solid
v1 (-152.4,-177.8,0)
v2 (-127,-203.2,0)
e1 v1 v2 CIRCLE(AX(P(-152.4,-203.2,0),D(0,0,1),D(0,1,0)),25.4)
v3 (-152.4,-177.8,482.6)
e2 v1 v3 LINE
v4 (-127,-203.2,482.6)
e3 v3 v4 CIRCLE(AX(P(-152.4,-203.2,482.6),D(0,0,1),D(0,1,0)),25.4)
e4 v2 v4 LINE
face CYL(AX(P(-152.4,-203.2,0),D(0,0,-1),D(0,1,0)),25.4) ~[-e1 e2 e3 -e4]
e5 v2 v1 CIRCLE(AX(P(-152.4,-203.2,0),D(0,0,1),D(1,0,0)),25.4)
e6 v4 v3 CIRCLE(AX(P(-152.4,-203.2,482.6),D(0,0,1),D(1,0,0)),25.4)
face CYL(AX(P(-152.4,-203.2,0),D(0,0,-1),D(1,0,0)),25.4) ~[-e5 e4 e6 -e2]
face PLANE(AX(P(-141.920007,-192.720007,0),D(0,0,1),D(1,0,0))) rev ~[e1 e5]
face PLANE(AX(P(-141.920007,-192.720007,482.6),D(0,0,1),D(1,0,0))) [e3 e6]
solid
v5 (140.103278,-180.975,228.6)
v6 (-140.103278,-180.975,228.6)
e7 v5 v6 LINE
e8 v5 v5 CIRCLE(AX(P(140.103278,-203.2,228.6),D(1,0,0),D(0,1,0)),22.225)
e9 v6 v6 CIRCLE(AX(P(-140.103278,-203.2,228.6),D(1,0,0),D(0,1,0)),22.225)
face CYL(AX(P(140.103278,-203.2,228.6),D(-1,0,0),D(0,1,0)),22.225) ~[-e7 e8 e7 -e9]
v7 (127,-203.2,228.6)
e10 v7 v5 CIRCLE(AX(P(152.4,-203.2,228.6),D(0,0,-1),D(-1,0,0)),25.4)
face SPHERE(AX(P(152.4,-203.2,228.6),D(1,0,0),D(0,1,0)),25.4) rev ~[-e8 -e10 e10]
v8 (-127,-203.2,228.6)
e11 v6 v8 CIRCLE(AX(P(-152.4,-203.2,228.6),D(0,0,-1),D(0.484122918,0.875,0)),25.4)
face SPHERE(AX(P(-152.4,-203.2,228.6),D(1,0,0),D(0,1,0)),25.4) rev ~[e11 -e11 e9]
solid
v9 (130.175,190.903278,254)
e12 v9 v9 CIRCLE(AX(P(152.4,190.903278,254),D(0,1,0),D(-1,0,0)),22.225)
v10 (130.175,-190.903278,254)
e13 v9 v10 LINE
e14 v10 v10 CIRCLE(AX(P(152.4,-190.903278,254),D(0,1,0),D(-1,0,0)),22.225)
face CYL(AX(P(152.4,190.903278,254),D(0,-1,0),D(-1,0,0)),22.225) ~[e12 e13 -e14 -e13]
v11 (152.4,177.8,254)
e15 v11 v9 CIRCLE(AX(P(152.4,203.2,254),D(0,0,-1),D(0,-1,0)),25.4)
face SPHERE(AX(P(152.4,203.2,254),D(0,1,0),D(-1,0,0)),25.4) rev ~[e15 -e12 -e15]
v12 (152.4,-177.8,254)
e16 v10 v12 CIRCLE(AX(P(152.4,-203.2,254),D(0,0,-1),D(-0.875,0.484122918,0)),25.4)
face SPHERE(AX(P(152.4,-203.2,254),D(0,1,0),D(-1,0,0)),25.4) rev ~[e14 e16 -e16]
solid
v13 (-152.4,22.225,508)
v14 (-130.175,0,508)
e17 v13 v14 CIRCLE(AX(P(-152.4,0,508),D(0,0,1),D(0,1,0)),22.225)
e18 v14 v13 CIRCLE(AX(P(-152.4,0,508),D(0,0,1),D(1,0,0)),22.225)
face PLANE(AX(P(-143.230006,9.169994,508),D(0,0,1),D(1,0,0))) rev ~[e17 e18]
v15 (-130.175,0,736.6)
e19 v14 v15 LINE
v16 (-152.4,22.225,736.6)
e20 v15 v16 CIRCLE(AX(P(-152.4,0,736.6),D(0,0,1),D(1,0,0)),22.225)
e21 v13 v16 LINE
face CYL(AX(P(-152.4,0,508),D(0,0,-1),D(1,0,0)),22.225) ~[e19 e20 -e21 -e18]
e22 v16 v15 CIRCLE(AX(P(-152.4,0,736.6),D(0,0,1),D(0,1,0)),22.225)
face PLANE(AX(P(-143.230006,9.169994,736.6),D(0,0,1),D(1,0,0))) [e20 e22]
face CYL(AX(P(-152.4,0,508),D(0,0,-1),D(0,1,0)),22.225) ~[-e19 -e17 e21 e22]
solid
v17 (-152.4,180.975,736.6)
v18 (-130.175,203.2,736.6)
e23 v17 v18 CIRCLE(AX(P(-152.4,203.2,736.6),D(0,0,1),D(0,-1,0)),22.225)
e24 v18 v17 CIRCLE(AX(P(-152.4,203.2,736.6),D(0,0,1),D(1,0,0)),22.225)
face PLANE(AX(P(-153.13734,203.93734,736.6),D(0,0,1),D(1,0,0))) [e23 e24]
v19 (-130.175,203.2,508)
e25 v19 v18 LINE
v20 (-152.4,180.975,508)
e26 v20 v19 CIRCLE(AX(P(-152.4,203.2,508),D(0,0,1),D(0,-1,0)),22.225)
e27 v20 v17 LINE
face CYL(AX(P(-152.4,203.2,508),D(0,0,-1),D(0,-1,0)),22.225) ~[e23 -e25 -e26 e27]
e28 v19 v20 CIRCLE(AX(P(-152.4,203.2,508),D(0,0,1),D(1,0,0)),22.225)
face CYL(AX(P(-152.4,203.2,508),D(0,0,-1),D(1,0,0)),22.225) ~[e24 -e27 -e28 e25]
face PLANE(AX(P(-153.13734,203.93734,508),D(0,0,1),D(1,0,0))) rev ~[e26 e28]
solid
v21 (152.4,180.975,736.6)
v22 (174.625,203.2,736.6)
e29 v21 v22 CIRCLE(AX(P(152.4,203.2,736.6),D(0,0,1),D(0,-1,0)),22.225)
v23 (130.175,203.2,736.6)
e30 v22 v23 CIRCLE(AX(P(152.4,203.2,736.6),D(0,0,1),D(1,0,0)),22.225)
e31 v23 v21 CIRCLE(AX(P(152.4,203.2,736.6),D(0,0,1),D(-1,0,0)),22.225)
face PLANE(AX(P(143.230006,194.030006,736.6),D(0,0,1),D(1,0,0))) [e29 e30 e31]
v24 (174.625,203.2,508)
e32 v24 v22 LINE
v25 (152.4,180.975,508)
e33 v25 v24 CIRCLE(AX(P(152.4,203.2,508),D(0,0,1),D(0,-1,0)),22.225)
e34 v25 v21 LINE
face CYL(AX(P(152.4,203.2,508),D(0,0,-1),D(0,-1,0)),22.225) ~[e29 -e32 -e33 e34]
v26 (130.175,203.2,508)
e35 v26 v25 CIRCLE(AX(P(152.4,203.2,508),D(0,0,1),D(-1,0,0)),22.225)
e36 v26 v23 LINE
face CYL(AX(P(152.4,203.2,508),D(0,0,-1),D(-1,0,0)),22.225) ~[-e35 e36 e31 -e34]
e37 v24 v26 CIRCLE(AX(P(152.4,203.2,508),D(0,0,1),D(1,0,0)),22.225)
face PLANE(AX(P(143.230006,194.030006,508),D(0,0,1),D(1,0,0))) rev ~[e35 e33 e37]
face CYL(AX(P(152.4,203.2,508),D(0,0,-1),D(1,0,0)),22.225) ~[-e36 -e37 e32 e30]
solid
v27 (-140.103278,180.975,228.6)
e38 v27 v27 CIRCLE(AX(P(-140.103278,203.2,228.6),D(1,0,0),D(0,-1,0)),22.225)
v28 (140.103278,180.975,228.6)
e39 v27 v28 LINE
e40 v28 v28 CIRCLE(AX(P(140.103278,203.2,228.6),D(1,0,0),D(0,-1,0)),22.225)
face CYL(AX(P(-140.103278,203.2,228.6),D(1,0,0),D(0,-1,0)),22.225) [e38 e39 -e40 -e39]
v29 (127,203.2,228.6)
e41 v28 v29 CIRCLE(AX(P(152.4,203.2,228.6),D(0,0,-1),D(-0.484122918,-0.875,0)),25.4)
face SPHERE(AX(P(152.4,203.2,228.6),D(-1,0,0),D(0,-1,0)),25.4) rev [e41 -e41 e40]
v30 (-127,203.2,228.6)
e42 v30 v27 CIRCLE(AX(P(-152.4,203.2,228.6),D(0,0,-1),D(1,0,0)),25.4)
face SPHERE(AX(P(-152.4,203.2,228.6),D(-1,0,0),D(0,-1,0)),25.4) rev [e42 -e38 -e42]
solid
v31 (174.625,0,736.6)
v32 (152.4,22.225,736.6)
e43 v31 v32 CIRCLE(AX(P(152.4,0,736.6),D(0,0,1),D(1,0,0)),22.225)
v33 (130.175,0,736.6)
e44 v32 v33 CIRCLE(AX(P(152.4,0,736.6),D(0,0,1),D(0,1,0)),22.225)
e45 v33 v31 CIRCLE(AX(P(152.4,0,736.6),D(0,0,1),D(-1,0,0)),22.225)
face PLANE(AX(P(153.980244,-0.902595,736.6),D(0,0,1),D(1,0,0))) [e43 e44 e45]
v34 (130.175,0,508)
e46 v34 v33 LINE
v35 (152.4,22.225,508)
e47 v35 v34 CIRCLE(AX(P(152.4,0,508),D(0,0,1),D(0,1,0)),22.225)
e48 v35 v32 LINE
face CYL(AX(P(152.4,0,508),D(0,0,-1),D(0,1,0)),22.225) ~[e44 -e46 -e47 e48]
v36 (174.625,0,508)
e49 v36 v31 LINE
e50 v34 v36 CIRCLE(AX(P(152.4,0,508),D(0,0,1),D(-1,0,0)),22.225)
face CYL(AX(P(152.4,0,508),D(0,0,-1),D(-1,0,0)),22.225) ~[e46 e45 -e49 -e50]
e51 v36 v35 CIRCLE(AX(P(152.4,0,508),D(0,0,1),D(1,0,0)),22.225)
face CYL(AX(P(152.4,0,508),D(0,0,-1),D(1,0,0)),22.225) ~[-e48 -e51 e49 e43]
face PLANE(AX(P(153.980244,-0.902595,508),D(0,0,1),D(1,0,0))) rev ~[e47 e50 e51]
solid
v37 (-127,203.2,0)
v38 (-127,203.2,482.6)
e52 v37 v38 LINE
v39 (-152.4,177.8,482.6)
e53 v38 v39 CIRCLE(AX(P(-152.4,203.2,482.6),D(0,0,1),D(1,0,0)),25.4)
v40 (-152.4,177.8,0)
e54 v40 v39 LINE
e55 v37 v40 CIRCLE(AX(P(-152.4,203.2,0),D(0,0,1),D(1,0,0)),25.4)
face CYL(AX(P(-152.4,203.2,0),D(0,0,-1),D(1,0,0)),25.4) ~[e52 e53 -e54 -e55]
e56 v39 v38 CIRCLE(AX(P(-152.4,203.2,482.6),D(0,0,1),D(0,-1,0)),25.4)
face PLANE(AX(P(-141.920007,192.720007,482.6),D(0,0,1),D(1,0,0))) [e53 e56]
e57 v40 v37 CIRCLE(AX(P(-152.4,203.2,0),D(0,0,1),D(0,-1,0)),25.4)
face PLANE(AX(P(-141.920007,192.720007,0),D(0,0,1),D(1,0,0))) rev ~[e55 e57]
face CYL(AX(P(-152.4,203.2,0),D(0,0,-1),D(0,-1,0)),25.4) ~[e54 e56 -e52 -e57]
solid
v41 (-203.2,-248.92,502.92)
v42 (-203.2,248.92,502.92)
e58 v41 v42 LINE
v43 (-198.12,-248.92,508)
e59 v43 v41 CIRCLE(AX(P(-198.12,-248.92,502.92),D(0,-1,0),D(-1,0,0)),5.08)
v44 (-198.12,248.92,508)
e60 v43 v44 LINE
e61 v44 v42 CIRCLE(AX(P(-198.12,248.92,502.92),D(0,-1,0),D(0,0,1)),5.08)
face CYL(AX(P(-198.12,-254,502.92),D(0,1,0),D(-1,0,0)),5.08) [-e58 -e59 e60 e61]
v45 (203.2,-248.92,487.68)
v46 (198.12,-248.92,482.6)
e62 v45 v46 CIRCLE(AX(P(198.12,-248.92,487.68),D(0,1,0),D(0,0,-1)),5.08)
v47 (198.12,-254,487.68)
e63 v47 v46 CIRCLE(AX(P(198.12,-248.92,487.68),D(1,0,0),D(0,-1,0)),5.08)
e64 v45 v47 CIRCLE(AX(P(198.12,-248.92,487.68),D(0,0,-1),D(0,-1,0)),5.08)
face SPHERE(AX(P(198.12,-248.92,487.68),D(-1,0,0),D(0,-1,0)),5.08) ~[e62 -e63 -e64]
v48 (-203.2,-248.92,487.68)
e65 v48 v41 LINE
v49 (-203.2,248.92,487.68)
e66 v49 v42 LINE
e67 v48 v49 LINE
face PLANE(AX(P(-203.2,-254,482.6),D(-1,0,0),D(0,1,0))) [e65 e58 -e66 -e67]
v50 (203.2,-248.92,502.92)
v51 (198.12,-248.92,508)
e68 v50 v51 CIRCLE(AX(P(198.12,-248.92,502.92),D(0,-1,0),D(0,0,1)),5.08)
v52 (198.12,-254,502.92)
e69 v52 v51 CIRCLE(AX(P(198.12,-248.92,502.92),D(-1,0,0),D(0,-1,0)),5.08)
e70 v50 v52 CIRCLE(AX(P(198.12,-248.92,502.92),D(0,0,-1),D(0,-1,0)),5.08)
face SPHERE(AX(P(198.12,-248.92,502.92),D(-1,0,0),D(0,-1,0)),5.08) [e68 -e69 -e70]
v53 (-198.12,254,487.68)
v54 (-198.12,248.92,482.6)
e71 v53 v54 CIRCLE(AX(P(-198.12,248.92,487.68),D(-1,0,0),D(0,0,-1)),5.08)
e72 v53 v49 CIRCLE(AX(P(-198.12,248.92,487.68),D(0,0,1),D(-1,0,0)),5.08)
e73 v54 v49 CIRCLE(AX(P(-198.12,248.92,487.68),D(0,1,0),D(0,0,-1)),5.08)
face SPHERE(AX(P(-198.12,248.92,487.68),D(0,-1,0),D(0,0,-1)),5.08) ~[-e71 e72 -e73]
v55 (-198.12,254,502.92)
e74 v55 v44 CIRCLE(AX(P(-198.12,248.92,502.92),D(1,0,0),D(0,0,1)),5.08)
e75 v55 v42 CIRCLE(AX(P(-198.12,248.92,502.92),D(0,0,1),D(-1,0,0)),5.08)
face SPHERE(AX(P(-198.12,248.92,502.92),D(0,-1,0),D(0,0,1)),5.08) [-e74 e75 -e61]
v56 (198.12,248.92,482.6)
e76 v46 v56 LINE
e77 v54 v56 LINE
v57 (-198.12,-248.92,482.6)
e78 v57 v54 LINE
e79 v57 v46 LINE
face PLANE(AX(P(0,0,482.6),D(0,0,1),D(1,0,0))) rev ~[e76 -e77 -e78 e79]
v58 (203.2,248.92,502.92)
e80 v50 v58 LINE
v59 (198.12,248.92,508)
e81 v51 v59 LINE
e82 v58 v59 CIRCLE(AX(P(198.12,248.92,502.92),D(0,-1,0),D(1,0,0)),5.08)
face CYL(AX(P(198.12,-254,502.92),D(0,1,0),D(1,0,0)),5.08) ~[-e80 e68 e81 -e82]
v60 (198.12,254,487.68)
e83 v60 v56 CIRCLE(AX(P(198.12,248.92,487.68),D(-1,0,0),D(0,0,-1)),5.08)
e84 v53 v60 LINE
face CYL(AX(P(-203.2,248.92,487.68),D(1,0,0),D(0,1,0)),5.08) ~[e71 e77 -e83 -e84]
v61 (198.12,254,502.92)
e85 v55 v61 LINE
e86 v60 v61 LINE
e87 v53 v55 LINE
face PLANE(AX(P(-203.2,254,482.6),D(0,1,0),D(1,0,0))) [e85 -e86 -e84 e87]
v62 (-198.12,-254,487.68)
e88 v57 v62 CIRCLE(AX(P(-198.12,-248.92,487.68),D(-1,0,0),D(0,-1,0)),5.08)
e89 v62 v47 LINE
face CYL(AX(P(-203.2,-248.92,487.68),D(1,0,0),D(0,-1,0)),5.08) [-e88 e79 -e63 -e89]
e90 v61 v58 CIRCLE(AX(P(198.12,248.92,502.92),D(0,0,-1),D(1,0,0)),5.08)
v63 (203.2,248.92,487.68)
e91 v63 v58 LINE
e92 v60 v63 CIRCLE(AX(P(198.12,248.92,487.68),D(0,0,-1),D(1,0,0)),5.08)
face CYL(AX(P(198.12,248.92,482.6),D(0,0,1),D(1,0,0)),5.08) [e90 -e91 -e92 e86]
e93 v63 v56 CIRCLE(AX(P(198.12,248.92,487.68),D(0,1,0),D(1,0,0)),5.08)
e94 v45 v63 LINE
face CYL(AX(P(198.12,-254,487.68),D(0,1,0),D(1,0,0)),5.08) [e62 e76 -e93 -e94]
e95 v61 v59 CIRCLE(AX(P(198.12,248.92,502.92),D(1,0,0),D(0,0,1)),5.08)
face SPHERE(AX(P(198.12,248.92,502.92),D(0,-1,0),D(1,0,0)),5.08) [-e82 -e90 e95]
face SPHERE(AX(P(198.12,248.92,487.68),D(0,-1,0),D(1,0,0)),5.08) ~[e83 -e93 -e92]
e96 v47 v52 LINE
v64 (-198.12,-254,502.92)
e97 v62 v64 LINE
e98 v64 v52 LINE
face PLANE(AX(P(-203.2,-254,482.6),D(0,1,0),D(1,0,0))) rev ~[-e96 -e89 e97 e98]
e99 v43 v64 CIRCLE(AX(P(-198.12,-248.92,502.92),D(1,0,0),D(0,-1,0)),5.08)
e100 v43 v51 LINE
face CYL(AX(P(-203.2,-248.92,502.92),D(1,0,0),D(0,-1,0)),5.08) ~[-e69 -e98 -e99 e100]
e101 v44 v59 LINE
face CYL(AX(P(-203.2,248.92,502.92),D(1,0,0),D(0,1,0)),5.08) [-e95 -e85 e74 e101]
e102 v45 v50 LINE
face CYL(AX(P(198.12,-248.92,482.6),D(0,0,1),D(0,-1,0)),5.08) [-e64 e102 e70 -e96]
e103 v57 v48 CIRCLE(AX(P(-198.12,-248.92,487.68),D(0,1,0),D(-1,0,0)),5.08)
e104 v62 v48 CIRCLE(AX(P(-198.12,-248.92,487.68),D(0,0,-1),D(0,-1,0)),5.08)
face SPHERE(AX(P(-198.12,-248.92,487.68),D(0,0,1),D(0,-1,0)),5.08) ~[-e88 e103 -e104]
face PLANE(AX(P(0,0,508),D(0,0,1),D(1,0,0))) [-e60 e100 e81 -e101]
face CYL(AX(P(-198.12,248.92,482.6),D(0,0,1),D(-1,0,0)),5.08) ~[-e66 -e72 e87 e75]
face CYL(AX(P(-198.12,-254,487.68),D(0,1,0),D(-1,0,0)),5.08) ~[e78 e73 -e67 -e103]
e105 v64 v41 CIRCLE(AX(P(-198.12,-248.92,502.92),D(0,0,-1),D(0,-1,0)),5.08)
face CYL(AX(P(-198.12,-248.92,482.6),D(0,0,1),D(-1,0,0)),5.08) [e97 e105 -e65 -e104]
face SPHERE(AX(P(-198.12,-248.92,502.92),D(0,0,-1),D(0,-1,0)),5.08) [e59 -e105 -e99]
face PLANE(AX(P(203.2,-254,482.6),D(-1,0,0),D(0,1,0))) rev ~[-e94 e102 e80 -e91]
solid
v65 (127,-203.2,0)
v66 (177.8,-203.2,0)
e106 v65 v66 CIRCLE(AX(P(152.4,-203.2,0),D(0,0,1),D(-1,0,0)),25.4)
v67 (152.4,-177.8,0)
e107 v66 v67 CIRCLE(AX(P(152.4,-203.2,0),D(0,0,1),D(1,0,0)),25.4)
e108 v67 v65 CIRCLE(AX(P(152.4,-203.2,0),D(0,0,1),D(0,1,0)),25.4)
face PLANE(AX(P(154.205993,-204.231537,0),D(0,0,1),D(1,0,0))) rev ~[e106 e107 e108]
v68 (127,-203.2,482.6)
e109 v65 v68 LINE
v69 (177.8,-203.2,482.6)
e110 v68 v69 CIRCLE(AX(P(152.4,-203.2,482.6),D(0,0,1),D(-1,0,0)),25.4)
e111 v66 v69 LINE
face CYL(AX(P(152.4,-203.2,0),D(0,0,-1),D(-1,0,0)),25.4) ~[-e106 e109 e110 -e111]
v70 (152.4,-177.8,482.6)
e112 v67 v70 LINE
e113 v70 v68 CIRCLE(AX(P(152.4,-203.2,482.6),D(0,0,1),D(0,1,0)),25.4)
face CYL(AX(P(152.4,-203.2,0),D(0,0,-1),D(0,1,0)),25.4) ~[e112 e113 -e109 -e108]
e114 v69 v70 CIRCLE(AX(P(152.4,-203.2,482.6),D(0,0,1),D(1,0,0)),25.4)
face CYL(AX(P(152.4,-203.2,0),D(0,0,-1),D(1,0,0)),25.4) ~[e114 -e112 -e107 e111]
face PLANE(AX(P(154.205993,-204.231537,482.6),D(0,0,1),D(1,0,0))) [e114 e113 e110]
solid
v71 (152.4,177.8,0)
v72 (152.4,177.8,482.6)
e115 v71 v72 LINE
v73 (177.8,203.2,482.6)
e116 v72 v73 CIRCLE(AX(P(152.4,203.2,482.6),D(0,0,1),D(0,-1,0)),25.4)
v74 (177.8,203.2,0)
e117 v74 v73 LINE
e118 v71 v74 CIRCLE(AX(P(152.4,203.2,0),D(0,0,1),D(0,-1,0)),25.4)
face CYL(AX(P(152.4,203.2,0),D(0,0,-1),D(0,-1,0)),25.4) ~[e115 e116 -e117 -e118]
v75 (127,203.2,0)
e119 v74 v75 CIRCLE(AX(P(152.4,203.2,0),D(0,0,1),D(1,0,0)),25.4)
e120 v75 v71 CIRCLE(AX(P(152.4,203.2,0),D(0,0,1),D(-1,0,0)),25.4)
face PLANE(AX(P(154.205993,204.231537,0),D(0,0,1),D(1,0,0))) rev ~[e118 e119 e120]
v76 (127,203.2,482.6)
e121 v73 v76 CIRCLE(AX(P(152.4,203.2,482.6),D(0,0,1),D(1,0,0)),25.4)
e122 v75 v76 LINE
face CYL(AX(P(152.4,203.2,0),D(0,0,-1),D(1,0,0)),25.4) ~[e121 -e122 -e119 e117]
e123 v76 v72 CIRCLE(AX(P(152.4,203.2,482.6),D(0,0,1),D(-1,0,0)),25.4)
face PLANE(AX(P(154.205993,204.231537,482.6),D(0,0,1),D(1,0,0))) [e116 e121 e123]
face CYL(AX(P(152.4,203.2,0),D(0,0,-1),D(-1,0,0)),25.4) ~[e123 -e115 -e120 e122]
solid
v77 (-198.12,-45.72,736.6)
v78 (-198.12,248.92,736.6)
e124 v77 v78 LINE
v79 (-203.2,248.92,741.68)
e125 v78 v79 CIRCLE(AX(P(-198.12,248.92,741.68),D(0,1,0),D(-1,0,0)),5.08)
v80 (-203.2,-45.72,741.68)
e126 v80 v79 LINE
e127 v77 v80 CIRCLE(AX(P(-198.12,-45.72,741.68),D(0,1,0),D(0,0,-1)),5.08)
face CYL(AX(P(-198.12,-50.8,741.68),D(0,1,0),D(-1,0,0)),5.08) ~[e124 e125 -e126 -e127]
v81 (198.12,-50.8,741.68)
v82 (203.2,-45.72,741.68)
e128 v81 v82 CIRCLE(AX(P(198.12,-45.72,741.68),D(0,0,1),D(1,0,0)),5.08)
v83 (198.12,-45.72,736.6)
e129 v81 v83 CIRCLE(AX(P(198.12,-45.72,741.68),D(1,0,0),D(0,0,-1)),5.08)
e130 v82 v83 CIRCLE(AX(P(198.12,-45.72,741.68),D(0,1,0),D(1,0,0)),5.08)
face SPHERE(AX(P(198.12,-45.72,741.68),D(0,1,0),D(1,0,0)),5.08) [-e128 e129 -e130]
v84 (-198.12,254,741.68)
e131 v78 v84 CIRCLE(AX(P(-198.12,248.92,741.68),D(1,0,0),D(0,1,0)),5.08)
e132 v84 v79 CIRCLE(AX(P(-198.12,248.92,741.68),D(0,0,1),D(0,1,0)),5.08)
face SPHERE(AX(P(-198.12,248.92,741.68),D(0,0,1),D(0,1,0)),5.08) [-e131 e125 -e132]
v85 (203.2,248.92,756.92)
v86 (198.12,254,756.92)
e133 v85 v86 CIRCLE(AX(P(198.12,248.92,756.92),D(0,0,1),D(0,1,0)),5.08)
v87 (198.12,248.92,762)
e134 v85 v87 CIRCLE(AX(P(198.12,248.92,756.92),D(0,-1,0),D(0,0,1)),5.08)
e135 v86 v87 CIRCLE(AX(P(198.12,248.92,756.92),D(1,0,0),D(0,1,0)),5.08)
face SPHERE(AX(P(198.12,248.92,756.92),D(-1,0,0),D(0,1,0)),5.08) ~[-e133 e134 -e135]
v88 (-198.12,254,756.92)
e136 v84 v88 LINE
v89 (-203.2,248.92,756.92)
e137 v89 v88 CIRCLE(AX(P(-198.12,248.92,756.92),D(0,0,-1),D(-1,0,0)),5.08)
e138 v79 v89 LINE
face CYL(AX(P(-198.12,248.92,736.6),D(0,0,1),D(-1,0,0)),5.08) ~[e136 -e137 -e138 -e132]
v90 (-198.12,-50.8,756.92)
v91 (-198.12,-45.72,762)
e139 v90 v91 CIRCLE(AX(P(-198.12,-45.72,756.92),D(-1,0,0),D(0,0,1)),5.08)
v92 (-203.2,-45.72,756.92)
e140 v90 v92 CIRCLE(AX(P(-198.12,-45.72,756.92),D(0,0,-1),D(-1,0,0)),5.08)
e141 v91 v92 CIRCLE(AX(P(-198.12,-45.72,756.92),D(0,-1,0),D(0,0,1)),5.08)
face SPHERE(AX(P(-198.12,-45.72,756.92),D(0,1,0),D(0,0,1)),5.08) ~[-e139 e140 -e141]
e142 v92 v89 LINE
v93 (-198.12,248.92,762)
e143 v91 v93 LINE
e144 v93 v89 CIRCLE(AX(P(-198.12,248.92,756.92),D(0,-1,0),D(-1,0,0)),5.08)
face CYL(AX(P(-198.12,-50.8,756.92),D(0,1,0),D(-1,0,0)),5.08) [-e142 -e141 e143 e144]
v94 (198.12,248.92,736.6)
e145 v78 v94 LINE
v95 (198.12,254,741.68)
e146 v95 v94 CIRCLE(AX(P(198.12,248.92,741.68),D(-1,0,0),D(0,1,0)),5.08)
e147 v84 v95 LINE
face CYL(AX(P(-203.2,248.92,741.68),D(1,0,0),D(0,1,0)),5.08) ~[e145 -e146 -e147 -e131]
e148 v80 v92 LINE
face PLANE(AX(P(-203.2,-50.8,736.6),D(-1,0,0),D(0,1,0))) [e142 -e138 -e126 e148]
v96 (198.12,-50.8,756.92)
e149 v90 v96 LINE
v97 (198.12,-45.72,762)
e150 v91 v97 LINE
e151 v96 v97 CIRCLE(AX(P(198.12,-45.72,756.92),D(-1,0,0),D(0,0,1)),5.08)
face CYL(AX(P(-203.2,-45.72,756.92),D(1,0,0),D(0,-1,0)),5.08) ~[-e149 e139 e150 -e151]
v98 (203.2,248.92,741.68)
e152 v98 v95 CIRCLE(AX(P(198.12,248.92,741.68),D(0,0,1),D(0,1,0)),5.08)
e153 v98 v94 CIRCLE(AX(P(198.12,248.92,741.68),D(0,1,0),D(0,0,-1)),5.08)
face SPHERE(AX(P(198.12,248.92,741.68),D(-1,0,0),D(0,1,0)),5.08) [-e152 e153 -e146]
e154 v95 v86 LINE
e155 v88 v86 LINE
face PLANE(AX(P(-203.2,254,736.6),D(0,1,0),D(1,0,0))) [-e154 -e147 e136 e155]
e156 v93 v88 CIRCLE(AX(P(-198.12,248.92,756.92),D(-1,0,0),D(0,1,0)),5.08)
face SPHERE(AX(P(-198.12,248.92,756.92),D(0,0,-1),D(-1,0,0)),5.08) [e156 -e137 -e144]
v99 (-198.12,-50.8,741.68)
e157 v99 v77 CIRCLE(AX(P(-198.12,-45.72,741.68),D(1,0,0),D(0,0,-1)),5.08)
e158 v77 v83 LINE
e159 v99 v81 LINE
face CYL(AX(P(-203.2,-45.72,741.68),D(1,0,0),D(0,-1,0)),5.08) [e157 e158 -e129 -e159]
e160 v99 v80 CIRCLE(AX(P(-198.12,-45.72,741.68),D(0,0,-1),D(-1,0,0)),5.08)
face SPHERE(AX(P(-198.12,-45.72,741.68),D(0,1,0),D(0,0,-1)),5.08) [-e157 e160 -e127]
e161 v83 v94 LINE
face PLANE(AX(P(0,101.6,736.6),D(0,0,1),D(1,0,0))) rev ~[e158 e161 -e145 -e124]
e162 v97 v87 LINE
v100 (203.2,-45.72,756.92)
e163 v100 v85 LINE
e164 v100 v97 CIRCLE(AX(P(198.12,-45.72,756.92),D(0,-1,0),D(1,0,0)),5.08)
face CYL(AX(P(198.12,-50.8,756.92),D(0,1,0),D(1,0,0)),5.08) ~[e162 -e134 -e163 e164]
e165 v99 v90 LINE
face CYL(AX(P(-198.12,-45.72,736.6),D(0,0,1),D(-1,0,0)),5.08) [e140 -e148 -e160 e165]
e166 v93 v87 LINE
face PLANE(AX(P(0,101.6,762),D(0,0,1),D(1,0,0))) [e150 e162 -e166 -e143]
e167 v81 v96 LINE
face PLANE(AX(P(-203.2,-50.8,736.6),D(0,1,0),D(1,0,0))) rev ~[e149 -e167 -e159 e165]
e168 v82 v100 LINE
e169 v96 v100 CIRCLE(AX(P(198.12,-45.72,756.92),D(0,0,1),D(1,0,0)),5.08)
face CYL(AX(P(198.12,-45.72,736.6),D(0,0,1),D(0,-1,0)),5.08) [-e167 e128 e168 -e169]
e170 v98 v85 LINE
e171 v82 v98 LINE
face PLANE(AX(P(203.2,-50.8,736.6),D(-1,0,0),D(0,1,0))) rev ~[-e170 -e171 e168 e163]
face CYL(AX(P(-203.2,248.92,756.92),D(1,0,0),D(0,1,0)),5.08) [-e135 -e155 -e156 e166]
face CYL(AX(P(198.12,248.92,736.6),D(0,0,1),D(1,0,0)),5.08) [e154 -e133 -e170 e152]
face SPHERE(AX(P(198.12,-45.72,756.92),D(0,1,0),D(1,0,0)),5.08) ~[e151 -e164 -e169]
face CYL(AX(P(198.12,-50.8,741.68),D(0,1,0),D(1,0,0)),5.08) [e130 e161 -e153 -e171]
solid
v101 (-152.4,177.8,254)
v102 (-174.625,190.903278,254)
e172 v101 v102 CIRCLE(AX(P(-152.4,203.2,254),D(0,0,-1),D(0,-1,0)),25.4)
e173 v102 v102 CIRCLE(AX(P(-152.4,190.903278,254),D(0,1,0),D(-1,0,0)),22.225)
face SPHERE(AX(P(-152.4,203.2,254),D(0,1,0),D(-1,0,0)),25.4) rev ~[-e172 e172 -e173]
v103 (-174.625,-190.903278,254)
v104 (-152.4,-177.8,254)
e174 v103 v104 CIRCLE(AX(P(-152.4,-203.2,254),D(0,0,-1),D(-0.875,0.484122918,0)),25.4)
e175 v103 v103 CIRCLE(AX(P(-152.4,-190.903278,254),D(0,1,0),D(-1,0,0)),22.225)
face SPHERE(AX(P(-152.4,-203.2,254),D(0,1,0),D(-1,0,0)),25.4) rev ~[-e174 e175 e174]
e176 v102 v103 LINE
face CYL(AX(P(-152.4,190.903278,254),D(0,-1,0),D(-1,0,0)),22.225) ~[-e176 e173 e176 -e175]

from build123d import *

# Parameters (mm, degrees)
F1_DEPTH = 482.6
F3_W     = 406.4
F3_H     = 508
F4_DEPTH = 25.4
F6_DEPTH = 228.6
F7_W     = 406.4
F7_H     = 304.8
F8_DEPTH = 25.4
F9_R     = 5.08
F10_R    = 5.08


with BuildPart() as f1:
    # F0 (on Top) → F1 (new body)
    with BuildSketch(Plane.XY):
        with BuildLine():
            ThreePointArc((-152.4, 177.8), (-134.4394877579, 185.2394877579), (-127, 203.2))
            Line((-127, 203.2), (-152.4, 203.2))
            Line((-152.4, 203.2), (-152.4, 177.8))
        make_face()
        with BuildLine():
            Line((-152.4, 203.2), (-127, 203.2))
            ThreePointArc((-127, 203.2), (-170.3605122421, 221.1605122421), (-152.4, 177.8))
            Line((-152.4, 177.8), (-152.4, 203.2))
        make_face()
    extrude(amount=F1_DEPTH)


with BuildPart() as f1b:
    # F0 (on Top) → F1, piece 2 (new body)
    with BuildSketch(Plane.XY):
        with BuildLine():
            ThreePointArc((177.8, 203.2), (152.4, 228.6), (127, 203.2))
            Line((127, 203.2), (152.4, 203.2))
            Line((152.4, 203.2), (152.4, 177.8))
            ThreePointArc((152.4, 177.8), (170.3605122421, 185.2394877579), (177.8, 203.2))
        make_face()
        with BuildLine():
            Line((152.4, 203.2), (127, 203.2))
            ThreePointArc((127, 203.2), (134.4394877579, 185.2394877579), (152.4, 177.8))
            Line((152.4, 177.8), (152.4, 203.2))
        make_face()
    extrude(amount=F1_DEPTH)


with BuildPart() as f1c:
    # F0 (on Top) → F1, piece 3 (new body)
    with BuildSketch(Plane.XY):
        with BuildLine():
            ThreePointArc((177.8, -203.2), (170.3605122421, -185.2394877579), (152.4, -177.8))
            Line((152.4, -177.8), (152.4, -203.2))
            Line((152.4, -203.2), (127, -203.2))
            ThreePointArc((127, -203.2), (152.4, -228.6), (177.8, -203.2))
        make_face()
        with BuildLine():
            Line((152.4, -203.2), (152.4, -177.8))
            ThreePointArc((152.4, -177.8), (134.4394877579, -185.2394877579), (127, -203.2))
            Line((127, -203.2), (152.4, -203.2))
        make_face()
    extrude(amount=F1_DEPTH)


with BuildPart() as f1d:
    # F0 (on Top) → F1, piece 4 (new body)
    with BuildSketch(Plane.XY):
        with BuildLine():
            ThreePointArc((-127, -203.2), (-134.4394877579, -185.2394877579), (-152.4, -177.8))
            Line((-152.4, -177.8), (-152.4, -203.2))
            Line((-152.4, -203.2), (-127, -203.2))
        make_face()
        with BuildLine():
            Line((-152.4, -203.2), (-152.4, -177.8))
            ThreePointArc((-152.4, -177.8), (-170.3605122421, -221.1605122421), (-127, -203.2))
            Line((-127, -203.2), (-152.4, -203.2))
        make_face()
    extrude(amount=F1_DEPTH)


with BuildPart() as f4:
    # F3 (on offset) → F4 (new body)
    with BuildSketch(Plane.XY.offset(482.6)):
        Rectangle(F3_W, F3_H)
    extrude(amount=F4_DEPTH)

    # F9
    f9_edges = [f4.edges().sort_by_distance(p)[0] for p in [
        (-203.2, -254, 495.3),
        (0, -254, 508),
        (0, -254, 482.6),
        (-203.2, 0, 508),
        (-203.2, 0, 482.6),
        (203.2, -254, 495.3),
        (203.2, 0, 508),
        (203.2, 0, 482.6),
        (203.2, 254, 495.3),
        (0, 254, 482.6),
        (0, 254, 508),
        (-203.2, 254, 495.3),
    ]]
    fillet(f9_edges, radius=F9_R)


with BuildPart() as f6:
    # F5 (on face) → F6 (new body)
    with BuildSketch(Plane.XY.offset(508)):
        with BuildLine():
            ThreePointArc((174.625, 0), (168.1154482119, 15.7154482119), (152.4, 22.225))
            Line((152.4, 22.225), (152.4, 0))
            Line((152.4, 0), (130.175, 0))
            ThreePointArc((130.175, 0), (152.4, -22.225), (174.625, 0))
        make_face()
        with BuildLine():
            Line((152.4, 0), (152.4, 22.225))
            ThreePointArc((152.4, 22.225), (136.6845517881, 15.7154482119), (130.175, 0))
            Line((130.175, 0), (152.4, 0))
        make_face()
    extrude(amount=F6_DEPTH)


with BuildPart() as f6b:
    # F5 (on face) → F6, piece 2 (new body)
    with BuildSketch(Plane.XY.offset(508)):
        with BuildLine():
            ThreePointArc((-130.175, 0), (-136.6845517881, 15.7154482119), (-152.4, 22.225))
            Line((-152.4, 22.225), (-152.4, 0))
            Line((-152.4, 0), (-130.175, 0))
        make_face()
        with BuildLine():
            Line((-152.4, 0), (-152.4, 22.225))
            ThreePointArc((-152.4, 22.225), (-168.1154482119, -15.7154482119), (-130.175, 0))
            Line((-130.175, 0), (-152.4, 0))
        make_face()
    extrude(amount=F6_DEPTH)


with BuildPart() as f6c:
    # F5 (on face) → F6, piece 3 (new body)
    with BuildSketch(Plane.XY.offset(508)):
        with BuildLine():
            Line((-152.4, 203.2), (-130.175, 203.2))
            ThreePointArc((-130.175, 203.2), (-168.1154482119, 218.9154482119), (-152.4, 180.975))
            Line((-152.4, 180.975), (-152.4, 203.2))
        make_face()
        with BuildLine():
            ThreePointArc((-152.4, 180.975), (-136.6845517881, 187.4845517881), (-130.175, 203.2))
            Line((-130.175, 203.2), (-152.4, 203.2))
            Line((-152.4, 203.2), (-152.4, 180.975))
        make_face()
    extrude(amount=F6_DEPTH)


with BuildPart() as f6d:
    # F5 (on face) → F6, piece 4 (new body)
    with BuildSketch(Plane.XY.offset(508)):
        with BuildLine():
            Line((152.4, 203.2), (130.175, 203.2))
            ThreePointArc((130.175, 203.2), (136.6845517881, 187.4845517881), (152.4, 180.975))
            Line((152.4, 180.975), (152.4, 203.2))
        make_face()
        with BuildLine():
            ThreePointArc((174.625, 203.2), (152.4, 225.425), (130.175, 203.2))
            Line((130.175, 203.2), (152.4, 203.2))
            Line((152.4, 203.2), (152.4, 180.975))
            ThreePointArc((152.4, 180.975), (168.1154482119, 187.4845517881), (174.625, 203.2))
        make_face()
    extrude(amount=F6_DEPTH)


with BuildPart() as f8:
    # F7 (on face) → F8 (new body)
    with BuildSketch(Plane.XY.offset(736.6)):
        with Locations((0, 101.6)):
            Rectangle(F7_W, F7_H)
    extrude(amount=F8_DEPTH)

    # F10
    f10_edges = [f8.edges().sort_by_distance(p)[0] for p in [
        (-203.2, 254, 749.3),
        (0, 254, 736.6),
        (-203.2, 101.6, 736.6),
        (-203.2, 101.6, 762),
        (0, 254, 762),
        (203.2, 254, 749.3),
        (203.2, 101.6, 736.6),
        (203.2, 101.6, 762),
        (203.2, -50.8, 749.3),
        (0, -50.8, 762),
        (0, -50.8, 736.6),
        (-203.2, -50.8, 749.3),
    ]]
    fillet(f10_edges, radius=F10_R)


with BuildPart() as f13:
    # F12 (on offset) → F13 (revolve)
    with BuildSketch(Plane.XY.offset(254)):
        with BuildLine():
            Line((-174.625, 190.9032778758), (-174.625, -190.9032778758))
            ThreePointArc((-174.625, -190.9032778758), (-165.3000631403, -181.3196807387), (-152.4, -177.8))
            Line((-152.4, -177.8), (-152.4, 177.8))
            ThreePointArc((-152.4, 177.8), (-165.3000631403, 181.3196807387), (-174.625, 190.9032778758))
        make_face()
    revolve(axis=Axis((-152.4, 0, 254), (0, 1, 0)))


with BuildPart() as f14:
    # F12 (on offset) → F14 (revolve)
    with BuildSketch(Plane.XY.offset(254)):
        with BuildLine():
            Line((130.175, 190.9032778758), (130.175, -190.9032778758))
            ThreePointArc((130.175, -190.9032778758), (139.4999368597, -181.3196807387), (152.4, -177.8))
            Line((152.4, -177.8), (152.4, 177.8))
            ThreePointArc((152.4, 177.8), (139.4999368597, 181.3196807387), (130.175, 190.9032778758))
        make_face()
    revolve(axis=Axis((152.4, 0, 254), (0, 1, 0)))


with BuildPart() as f17:
    # F16 (on offset) → F17 (revolve)
    with BuildSketch(Plane.XY.offset(228.6)):
        with BuildLine():
            Line((-140.1032778758, 180.975), (140.1032778758, 180.975))
            ThreePointArc((140.1032778758, 180.975), (130.5196807387, 190.2999368597), (127, 203.2))
            Line((127, 203.2), (-127, 203.2))
            ThreePointArc((-127, 203.2), (-130.5196807387, 190.2999368597), (-140.1032778758, 180.975))
        make_face()
    revolve(axis=Axis((0, 203.2, 228.6), (1, 0, 0)))


with BuildPart() as f18:
    # F16 (on offset) → F18 (revolve)
    with BuildSketch(Plane.XY.offset(228.6)):
        with BuildLine():
            ThreePointArc((-140.1032778758, -180.975), (-130.5196807387, -190.2999368597), (-127, -203.2))
            Line((-127, -203.2), (127, -203.2))
            ThreePointArc((127, -203.2), (130.5196807387, -190.2999368597), (140.1032778758, -180.975))
            Line((140.1032778758, -180.975), (-140.1032778758, -180.975))
        make_face()
    revolve(axis=Axis((0, -203.2, 228.6), (1, 0, 0)))


solid = Compound([f1.part, f1b.part, f1c.part, f1d.part, f4.part, f6.part, f6b.part, f6c.part, f6d.part, f8.part, f13.part, f14.part, f17.part, f18.part])
